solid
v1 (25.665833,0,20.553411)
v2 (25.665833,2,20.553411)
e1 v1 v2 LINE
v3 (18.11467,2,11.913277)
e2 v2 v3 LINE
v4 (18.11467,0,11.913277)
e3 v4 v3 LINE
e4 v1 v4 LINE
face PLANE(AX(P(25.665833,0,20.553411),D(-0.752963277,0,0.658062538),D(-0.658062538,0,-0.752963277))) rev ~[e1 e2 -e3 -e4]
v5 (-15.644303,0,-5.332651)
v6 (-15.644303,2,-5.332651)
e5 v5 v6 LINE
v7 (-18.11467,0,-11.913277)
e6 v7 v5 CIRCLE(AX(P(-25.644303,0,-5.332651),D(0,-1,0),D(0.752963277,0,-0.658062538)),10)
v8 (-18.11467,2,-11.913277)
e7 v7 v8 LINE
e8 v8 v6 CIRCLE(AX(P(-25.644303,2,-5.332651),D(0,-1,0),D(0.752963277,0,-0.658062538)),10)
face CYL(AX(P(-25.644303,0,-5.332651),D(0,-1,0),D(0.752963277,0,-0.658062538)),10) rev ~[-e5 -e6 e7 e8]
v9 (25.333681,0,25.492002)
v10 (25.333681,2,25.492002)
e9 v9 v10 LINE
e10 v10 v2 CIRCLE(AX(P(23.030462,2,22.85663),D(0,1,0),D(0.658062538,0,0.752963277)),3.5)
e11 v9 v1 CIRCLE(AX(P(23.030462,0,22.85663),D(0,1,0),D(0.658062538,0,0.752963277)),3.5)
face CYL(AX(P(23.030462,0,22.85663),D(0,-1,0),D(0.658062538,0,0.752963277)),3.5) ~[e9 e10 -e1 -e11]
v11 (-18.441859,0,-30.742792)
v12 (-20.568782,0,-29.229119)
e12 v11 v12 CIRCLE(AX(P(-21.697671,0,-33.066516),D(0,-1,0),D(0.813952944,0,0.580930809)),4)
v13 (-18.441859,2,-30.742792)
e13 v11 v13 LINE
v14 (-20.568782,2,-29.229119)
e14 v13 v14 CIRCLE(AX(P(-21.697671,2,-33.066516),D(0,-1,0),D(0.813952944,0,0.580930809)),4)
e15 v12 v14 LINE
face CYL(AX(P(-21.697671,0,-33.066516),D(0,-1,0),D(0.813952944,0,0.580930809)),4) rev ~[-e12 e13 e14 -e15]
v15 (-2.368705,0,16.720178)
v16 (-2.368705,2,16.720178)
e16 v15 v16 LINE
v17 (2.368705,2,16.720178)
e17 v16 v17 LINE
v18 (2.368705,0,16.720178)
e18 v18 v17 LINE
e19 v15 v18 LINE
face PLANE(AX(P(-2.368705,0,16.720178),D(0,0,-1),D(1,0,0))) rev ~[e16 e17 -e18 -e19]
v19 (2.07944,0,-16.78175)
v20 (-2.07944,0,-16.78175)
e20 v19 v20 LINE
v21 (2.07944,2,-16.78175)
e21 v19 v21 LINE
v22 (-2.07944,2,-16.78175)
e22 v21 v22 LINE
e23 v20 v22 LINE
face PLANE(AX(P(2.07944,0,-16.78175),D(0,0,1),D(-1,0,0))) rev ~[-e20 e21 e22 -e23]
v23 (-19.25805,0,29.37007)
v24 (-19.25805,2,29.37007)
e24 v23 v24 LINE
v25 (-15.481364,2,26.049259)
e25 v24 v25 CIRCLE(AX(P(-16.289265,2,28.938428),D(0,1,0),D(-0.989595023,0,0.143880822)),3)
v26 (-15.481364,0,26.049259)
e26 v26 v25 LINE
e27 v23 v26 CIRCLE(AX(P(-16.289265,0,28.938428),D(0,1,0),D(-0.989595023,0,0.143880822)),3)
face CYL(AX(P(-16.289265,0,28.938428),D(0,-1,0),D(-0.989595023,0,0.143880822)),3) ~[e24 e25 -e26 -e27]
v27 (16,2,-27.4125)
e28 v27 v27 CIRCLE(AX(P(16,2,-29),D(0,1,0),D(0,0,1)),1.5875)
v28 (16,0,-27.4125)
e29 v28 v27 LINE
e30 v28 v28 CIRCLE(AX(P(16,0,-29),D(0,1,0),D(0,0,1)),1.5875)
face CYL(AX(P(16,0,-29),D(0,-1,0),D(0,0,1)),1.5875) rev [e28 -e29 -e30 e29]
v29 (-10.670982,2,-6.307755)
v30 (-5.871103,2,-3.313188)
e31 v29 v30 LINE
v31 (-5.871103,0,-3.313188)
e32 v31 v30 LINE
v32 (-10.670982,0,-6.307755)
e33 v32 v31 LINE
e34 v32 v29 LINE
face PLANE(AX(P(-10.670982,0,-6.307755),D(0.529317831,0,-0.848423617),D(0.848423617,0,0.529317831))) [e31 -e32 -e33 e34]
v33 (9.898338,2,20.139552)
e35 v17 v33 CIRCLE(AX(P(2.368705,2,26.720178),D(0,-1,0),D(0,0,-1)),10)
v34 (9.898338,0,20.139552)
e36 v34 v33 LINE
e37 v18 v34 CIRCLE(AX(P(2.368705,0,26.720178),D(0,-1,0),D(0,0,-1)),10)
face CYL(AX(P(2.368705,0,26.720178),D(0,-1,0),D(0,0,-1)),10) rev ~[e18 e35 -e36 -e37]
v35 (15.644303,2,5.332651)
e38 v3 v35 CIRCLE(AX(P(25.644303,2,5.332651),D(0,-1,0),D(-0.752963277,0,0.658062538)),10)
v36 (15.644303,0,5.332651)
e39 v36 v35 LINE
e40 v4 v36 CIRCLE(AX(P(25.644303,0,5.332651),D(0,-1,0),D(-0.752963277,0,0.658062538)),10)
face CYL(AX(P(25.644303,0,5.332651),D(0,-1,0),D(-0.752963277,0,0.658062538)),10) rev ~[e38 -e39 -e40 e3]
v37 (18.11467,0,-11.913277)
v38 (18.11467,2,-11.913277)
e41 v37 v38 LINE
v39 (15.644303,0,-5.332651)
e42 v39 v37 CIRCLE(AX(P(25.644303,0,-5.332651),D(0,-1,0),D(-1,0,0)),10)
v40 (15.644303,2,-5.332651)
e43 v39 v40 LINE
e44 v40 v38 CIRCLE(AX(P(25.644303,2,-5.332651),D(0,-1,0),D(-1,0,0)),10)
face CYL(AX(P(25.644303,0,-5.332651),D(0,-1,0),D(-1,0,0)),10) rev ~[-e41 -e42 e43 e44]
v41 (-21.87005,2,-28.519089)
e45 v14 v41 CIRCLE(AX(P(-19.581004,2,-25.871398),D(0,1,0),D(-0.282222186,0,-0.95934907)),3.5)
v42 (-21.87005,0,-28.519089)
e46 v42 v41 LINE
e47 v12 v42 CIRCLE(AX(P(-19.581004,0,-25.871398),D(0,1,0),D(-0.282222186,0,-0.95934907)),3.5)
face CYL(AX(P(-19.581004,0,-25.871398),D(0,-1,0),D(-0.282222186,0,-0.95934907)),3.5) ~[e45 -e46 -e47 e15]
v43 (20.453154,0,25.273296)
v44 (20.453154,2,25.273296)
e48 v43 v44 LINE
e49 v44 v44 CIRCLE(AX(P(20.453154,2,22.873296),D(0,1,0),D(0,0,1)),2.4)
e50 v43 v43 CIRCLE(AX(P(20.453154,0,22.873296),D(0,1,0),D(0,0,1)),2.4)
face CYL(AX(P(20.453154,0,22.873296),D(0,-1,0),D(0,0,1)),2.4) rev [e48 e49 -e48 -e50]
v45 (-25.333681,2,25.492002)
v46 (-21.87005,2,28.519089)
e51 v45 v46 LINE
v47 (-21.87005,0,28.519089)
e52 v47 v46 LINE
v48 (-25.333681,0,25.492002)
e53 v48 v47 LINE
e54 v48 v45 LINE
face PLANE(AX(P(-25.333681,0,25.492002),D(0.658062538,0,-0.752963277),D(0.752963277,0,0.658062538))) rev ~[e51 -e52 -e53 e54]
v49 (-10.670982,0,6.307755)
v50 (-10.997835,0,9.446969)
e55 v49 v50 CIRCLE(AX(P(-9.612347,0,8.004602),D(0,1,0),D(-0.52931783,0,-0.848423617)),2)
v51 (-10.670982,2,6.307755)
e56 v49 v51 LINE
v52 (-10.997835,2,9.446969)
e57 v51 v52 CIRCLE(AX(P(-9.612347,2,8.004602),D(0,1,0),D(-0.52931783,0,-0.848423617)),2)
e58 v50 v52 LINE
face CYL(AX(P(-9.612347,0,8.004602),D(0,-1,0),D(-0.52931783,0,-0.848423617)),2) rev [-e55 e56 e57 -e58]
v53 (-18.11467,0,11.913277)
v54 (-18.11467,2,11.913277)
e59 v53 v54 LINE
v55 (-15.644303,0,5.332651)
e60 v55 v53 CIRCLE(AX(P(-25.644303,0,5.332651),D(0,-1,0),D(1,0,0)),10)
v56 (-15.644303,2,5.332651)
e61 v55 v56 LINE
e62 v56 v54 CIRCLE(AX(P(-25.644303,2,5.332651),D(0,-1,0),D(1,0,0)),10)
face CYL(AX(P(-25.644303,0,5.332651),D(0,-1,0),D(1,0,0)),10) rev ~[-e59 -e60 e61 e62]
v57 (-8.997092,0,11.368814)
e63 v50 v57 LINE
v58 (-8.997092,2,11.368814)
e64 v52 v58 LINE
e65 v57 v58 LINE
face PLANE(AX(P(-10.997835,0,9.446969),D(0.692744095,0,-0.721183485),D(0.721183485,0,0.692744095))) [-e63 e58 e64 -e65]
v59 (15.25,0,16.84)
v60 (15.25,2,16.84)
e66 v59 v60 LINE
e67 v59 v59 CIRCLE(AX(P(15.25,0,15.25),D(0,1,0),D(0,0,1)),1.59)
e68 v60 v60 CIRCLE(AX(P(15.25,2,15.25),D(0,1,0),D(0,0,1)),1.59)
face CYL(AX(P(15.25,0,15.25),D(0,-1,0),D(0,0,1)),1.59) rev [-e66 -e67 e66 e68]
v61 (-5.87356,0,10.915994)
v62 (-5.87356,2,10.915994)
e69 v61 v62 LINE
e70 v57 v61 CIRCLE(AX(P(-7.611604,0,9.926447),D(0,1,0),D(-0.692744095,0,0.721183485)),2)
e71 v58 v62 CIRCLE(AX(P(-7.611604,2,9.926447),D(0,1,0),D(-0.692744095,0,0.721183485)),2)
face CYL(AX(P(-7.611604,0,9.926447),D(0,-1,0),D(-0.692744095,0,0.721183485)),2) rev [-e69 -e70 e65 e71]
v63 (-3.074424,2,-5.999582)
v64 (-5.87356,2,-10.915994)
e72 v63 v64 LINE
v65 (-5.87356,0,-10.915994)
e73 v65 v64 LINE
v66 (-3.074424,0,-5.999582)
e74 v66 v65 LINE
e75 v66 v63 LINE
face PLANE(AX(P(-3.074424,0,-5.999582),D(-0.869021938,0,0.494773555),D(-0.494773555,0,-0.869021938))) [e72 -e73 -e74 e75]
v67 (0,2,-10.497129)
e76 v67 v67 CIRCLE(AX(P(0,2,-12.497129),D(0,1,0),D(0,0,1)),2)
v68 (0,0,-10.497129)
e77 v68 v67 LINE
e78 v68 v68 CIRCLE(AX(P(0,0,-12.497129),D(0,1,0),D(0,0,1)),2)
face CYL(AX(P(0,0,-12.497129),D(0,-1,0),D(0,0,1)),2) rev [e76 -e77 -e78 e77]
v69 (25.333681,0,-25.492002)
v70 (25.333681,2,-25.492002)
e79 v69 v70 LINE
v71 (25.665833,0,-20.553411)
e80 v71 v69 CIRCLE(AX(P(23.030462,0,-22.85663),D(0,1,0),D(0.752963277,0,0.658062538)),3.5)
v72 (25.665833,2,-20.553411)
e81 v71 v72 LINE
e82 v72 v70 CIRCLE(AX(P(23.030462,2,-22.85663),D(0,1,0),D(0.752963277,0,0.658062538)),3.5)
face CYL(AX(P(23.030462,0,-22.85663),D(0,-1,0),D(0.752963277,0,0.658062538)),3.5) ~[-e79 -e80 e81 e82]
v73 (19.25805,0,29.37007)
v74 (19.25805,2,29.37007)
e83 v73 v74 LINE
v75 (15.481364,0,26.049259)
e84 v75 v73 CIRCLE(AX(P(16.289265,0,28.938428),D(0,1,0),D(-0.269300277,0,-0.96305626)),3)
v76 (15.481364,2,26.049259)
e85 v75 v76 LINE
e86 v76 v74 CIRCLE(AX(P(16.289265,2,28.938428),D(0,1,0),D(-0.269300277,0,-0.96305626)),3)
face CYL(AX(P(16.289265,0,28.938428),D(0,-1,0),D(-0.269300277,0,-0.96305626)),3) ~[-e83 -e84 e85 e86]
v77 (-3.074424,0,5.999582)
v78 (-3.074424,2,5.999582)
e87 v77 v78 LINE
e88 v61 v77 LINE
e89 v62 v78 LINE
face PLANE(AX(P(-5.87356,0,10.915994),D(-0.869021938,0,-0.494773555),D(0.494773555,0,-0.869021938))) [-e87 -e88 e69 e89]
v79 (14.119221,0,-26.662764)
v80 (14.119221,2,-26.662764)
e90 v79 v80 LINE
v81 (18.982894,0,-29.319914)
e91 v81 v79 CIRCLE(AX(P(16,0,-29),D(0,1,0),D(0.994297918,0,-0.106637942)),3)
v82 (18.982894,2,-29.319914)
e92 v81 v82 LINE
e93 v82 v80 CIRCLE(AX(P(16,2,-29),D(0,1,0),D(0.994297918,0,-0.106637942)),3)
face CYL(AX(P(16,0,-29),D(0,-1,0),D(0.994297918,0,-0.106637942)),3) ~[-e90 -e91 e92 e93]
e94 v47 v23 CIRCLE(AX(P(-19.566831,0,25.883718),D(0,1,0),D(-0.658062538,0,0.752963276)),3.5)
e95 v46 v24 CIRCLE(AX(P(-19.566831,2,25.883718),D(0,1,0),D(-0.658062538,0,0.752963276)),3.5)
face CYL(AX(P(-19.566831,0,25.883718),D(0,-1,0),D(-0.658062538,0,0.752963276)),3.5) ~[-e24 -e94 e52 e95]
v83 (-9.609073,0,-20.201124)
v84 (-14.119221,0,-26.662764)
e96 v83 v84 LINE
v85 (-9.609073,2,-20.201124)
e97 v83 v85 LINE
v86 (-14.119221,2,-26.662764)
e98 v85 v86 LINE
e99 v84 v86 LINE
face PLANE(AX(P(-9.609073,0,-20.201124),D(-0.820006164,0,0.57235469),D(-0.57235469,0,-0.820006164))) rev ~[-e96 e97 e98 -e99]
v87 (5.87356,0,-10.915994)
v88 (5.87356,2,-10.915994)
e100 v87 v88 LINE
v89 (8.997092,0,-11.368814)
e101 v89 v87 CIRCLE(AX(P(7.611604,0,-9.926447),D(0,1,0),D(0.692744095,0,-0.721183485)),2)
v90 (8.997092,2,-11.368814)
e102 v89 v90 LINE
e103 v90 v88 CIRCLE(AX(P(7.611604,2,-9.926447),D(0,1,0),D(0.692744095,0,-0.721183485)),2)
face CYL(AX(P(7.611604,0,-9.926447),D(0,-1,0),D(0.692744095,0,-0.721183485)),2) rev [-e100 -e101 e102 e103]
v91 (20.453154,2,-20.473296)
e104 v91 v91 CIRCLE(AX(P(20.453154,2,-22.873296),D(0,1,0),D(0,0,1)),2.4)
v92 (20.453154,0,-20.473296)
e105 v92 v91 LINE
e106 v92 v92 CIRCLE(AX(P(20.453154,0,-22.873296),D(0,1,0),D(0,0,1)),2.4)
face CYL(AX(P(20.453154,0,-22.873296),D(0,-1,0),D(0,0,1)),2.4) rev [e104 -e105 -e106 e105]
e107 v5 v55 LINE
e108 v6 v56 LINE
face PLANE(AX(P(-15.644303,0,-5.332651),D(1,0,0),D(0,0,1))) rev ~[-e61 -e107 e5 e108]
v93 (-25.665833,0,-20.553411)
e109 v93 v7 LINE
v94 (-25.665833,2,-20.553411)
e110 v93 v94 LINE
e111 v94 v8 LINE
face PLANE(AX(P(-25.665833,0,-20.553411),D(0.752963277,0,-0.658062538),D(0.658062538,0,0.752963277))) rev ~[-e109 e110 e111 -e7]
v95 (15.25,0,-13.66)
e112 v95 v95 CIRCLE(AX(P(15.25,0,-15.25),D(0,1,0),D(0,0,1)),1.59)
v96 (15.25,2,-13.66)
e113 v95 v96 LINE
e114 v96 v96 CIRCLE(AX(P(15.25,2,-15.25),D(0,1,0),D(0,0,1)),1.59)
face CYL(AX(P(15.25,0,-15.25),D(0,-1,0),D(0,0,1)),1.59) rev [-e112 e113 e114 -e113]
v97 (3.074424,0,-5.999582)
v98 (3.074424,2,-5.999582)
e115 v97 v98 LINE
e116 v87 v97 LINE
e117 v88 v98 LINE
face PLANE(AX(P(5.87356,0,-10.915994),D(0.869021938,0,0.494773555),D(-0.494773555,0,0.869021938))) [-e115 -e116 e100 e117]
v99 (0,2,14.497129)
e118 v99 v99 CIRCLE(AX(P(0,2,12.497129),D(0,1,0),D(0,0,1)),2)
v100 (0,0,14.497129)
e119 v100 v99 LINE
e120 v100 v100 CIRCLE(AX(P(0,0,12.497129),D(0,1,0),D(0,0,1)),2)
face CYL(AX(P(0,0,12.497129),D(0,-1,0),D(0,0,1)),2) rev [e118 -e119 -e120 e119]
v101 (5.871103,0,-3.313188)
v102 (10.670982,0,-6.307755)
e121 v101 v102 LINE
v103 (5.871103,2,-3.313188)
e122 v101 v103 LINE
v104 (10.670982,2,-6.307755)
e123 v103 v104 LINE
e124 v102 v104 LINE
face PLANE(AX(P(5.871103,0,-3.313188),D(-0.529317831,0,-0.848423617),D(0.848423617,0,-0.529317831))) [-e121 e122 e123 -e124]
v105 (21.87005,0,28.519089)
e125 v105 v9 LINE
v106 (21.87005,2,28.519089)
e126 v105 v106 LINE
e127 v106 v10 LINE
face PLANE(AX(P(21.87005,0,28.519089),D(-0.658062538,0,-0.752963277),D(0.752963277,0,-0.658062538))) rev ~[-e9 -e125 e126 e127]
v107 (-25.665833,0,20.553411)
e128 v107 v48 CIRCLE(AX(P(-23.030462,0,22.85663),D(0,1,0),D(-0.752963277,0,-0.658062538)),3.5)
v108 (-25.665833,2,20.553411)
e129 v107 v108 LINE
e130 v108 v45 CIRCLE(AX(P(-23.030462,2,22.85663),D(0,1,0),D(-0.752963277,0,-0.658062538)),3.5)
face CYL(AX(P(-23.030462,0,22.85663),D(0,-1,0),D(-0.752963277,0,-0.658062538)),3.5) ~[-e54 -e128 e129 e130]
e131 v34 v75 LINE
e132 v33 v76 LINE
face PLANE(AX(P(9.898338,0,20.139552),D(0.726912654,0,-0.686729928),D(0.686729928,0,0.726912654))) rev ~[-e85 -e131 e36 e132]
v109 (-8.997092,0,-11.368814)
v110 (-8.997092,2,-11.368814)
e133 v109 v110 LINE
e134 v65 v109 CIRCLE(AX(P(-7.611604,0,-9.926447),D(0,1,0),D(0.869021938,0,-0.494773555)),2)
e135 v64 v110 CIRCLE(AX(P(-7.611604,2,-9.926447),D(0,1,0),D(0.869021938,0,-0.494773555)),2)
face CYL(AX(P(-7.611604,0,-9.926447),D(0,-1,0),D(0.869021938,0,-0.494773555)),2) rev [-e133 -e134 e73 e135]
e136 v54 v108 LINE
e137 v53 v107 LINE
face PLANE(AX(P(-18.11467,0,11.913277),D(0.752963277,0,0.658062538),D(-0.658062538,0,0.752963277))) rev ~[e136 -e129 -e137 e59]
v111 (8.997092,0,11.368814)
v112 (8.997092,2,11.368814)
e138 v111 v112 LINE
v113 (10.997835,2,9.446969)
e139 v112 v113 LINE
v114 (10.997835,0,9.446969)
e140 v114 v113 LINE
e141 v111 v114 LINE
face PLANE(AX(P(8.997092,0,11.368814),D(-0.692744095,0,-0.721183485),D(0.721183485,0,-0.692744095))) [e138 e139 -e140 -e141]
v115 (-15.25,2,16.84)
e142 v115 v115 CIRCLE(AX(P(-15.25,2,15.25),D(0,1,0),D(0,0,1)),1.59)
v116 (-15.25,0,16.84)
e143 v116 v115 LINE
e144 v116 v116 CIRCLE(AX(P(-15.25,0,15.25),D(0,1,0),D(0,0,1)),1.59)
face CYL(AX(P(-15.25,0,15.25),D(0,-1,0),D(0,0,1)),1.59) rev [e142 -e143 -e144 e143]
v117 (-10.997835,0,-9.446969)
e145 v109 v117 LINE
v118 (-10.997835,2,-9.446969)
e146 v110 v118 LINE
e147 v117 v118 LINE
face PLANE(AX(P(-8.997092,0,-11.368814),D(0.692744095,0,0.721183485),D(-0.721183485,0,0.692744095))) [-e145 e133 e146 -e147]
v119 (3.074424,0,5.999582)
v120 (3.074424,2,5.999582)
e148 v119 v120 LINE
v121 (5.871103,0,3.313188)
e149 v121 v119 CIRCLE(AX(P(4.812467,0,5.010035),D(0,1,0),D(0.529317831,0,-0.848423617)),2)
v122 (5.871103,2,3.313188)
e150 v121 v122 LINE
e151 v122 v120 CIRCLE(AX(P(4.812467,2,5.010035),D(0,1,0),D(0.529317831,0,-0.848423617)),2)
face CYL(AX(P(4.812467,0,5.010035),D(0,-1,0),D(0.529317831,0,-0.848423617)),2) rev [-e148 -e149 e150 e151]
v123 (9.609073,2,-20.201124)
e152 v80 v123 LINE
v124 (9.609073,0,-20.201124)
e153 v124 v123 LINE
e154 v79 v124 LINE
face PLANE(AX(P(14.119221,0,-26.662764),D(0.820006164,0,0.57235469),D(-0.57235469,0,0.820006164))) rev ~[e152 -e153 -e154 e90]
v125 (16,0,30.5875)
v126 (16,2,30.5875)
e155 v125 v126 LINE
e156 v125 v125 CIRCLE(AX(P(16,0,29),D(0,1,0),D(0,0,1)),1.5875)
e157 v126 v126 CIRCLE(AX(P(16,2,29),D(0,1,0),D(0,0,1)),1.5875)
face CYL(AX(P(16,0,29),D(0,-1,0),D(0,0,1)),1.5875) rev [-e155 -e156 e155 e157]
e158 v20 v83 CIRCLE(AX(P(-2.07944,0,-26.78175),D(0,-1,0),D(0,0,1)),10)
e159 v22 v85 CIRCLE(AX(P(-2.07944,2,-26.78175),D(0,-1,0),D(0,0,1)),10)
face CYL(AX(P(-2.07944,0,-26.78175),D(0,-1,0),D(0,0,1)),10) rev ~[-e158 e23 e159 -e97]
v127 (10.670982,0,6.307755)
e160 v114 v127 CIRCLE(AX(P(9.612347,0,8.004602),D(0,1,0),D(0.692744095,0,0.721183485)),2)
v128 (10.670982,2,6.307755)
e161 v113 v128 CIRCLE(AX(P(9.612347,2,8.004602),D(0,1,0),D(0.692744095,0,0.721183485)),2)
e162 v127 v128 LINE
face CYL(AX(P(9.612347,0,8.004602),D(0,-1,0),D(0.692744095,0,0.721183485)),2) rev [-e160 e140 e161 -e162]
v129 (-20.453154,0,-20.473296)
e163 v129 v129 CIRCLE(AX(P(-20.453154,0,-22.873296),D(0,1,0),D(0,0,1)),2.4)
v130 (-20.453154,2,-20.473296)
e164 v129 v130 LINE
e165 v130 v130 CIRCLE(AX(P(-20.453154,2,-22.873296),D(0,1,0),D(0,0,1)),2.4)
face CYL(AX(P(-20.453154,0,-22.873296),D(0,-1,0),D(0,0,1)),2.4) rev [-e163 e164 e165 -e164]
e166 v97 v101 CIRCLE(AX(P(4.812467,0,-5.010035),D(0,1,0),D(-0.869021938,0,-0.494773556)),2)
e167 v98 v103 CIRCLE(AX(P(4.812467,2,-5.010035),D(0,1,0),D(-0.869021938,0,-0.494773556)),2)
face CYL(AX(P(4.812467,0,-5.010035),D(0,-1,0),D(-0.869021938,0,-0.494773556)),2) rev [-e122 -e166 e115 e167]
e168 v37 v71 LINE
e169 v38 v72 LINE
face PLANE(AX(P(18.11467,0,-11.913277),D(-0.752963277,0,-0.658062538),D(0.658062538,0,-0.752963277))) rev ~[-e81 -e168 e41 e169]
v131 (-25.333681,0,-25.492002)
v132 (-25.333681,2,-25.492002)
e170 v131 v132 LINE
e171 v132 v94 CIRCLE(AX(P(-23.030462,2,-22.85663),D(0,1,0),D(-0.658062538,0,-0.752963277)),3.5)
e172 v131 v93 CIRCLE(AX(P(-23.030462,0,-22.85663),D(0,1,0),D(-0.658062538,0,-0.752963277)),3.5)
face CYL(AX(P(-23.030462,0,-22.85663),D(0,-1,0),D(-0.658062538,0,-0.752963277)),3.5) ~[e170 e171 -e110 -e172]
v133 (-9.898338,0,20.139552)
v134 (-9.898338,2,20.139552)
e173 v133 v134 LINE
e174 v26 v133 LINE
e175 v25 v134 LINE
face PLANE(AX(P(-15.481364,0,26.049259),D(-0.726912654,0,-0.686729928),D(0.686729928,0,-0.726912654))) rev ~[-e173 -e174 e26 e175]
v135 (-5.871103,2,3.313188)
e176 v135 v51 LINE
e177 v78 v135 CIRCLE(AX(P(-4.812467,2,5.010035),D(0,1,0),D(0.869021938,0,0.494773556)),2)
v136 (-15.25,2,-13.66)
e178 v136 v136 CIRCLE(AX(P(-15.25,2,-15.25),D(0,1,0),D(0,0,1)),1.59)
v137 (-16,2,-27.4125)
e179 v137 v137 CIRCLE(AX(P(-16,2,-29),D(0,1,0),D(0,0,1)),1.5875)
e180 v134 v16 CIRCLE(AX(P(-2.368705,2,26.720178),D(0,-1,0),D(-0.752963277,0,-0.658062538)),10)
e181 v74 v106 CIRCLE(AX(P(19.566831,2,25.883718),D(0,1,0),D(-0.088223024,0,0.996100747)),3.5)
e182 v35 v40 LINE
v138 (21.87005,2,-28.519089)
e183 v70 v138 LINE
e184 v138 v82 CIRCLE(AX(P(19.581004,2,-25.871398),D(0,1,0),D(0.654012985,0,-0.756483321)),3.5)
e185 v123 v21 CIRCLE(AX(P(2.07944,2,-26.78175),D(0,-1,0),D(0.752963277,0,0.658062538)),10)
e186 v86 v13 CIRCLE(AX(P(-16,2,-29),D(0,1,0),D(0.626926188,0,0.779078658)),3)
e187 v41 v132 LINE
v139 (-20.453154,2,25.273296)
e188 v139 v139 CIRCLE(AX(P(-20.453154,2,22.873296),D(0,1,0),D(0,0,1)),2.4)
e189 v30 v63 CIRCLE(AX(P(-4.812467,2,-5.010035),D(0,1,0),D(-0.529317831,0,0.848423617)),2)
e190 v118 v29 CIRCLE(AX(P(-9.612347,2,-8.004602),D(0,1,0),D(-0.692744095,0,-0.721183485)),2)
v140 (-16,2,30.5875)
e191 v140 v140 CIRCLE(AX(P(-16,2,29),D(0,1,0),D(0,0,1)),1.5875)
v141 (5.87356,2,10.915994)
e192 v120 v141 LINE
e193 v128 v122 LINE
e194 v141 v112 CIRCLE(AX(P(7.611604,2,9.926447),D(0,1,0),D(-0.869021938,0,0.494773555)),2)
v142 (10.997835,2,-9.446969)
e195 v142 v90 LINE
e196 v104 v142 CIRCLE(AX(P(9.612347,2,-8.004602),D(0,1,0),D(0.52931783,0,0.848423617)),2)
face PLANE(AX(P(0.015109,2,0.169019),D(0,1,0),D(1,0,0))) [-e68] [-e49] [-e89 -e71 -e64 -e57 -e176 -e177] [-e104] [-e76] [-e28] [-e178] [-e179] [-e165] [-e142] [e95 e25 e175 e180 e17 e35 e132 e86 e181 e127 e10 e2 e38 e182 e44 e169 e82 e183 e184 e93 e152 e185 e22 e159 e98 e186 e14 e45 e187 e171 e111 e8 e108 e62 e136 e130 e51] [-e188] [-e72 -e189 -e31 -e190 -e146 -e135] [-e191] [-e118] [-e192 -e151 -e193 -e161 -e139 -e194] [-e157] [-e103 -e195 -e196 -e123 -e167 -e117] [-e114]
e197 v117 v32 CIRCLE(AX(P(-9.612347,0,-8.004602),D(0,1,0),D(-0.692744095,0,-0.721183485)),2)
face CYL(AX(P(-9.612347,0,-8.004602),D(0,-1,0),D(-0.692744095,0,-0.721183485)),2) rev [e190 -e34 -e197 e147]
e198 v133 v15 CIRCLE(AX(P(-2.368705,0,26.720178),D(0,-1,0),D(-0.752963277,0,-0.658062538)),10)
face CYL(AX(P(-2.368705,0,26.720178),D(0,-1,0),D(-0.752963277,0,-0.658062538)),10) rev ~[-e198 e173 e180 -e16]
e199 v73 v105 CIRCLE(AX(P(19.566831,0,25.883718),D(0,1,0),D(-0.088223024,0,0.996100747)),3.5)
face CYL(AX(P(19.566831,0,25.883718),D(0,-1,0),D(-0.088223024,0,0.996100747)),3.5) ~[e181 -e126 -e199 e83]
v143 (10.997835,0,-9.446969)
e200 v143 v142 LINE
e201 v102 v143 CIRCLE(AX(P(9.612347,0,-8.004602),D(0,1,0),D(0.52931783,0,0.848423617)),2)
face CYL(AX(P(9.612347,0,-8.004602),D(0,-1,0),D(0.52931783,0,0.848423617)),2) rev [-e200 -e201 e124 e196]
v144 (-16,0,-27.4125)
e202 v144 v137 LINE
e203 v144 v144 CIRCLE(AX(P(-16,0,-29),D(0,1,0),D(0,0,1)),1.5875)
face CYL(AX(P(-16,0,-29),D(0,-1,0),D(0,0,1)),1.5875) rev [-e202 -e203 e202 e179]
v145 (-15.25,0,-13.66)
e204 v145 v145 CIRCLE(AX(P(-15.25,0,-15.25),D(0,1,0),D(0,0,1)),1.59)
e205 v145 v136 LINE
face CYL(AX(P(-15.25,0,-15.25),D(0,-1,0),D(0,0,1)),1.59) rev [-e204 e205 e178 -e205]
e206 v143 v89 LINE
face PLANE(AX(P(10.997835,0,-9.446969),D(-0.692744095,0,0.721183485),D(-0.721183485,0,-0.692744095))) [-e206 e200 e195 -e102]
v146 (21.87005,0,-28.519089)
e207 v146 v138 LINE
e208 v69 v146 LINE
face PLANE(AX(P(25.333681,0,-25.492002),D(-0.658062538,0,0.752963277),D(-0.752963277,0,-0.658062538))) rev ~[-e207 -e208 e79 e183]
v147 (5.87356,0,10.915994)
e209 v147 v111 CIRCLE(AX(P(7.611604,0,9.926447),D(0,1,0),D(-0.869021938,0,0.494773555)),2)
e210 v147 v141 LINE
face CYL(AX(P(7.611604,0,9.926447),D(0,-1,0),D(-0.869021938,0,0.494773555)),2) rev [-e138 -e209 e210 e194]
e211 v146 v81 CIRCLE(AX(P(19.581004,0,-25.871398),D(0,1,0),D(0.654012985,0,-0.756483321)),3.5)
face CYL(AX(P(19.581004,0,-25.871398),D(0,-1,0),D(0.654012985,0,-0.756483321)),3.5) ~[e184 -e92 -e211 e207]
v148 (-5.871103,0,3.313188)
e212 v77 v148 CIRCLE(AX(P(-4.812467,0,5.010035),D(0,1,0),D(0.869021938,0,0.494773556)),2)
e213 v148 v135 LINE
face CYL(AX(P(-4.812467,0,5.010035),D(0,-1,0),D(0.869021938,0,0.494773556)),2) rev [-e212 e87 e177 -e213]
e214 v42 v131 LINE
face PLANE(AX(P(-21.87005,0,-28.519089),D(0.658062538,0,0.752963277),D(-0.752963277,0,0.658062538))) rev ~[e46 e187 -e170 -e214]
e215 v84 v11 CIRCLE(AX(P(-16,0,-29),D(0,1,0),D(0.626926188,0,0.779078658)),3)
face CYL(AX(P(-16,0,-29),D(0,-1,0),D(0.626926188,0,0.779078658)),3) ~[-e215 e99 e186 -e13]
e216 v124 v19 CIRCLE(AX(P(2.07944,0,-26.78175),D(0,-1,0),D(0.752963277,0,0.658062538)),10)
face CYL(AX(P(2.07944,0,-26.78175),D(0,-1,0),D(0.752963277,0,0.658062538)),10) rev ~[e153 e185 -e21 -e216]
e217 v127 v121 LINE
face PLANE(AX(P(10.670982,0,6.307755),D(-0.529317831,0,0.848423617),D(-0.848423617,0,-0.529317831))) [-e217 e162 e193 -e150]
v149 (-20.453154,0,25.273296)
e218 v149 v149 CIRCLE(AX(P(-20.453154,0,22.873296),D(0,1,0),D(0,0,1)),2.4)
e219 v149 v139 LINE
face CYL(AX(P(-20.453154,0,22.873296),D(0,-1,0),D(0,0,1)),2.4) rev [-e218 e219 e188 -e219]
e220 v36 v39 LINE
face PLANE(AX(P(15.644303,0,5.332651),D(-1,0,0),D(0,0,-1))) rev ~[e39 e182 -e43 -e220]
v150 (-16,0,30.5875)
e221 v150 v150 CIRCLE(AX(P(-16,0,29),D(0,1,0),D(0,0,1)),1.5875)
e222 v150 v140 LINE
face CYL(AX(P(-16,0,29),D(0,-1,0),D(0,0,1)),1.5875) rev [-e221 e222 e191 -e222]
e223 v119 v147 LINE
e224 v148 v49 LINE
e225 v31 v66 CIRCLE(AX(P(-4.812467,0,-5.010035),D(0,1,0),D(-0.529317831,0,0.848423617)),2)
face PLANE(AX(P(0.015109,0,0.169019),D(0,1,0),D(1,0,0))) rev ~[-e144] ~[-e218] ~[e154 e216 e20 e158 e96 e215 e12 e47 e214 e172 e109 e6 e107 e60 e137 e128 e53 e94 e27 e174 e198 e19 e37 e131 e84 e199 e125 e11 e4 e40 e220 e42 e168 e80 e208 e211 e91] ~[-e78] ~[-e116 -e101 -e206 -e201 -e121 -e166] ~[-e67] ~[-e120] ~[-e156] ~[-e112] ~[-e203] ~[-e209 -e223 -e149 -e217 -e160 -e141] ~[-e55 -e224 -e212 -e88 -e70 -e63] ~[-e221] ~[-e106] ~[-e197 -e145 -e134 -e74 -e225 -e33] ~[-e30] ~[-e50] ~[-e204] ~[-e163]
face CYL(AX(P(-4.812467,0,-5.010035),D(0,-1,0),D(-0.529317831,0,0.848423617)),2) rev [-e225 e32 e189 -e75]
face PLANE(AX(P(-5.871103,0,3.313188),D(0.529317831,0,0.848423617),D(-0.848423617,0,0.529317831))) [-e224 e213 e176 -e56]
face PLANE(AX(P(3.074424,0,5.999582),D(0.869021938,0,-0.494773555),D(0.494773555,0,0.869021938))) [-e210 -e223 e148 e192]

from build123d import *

# Parameters (mm, degrees)
CROQUIS2_R              = 1.5875
CROQUIS2_R_2            = 2
CROQUIS2_R_3            = 1.59
CROQUIS2_R_4            = 2.4
SALIENTE_EXTRUIR1_DEPTH = 2


with BuildPart() as part:
    # Croquis2 → Saliente-Extruir1 (new body)
    with BuildSketch(Plane(origin=(0, 0, 0), x_dir=(1, 0, 0), z_dir=(0, 1, 0))):
        with BuildLine():
            Line((-18.114669831, -11.913276785), (-25.665833323, -20.55341124))
            ThreePointArc((-25.665833323, -20.55341124), (-26.522572581, -23.091497469), (-25.333680736, -25.492001591))
            Line((-25.333680736, -25.492001591), (-21.870049663, -28.519089265))
            ThreePointArc((-21.870049663, -28.519089265), (-20.651030144, -29.211556696), (-19.258050197, -29.370070411))
            ThreePointArc((-19.258050197, -29.370070411), (-14.308280019, -31.191358923), (-15.481364298, -26.049259163))
            Line((-15.481364298, -26.049259163), (-9.898337732, -20.139552173))
            ThreePointArc((-9.898337732, -20.139552173), (-6.503541491, -17.615062127), (-2.368704963, -16.720177551))
            Line((-2.368704963, -16.720177551), (2.368704963, -16.720177551))
            ThreePointArc((2.368704963, -16.720177551), (6.503541491, -17.615062127), (9.898337732, -20.139552173))
            Line((9.898337732, -20.139552173), (15.481364298, -26.049259163))
            ThreePointArc((15.481364298, -26.049259163), (14.308280019, -31.191358923), (19.258050197, -29.370070411))
            ThreePointArc((19.258050197, -29.370070411), (20.651030144, -29.211556696), (21.870049663, -28.519089265))
            Line((21.870049663, -28.519089265), (25.333680736, -25.492001591))
            ThreePointArc((25.333680736, -25.492001591), (26.522572581, -23.091497469), (25.665833323, -20.55341124))
            Line((25.665833323, -20.55341124), (18.114669831, -11.913276785))
            ThreePointArc((18.114669831, -11.913276785), (16.282242792, -8.847169319), (15.6443026, -5.332651407))
            Line((15.6443026, -5.332651407), (15.6443026, 5.332651407))
            ThreePointArc((15.6443026, 5.332651407), (16.282242792, 8.847169319), (18.114669831, 11.913276785))
            Line((18.114669831, 11.913276785), (25.665833323, 20.55341124))
            ThreePointArc((25.665833323, 20.55341124), (26.522572581, 23.091497469), (25.333680736, 25.492001591))
            Line((25.333680736, 25.492001591), (21.870049663, 28.519089265))
            ThreePointArc((21.870049663, 28.519089265), (20.516496212, 29.244060494), (18.982893754, 29.319913825))
            ThreePointArc((18.982893754, 29.319913825), (14.561676067, 31.632721836), (14.119221437, 26.662764026))
            Line((14.119221437, 26.662764026), (9.609072603, 20.201124228))
            ThreePointArc((9.609072603, 20.201124228), (6.214276361, 17.676634182), (2.079439834, 16.781749607))
            Line((2.079439834, 16.781749607), (-2.079439834, 16.781749607))
            ThreePointArc((-2.079439834, 16.781749607), (-6.214276361, 17.676634182), (-9.609072603, 20.201124228))
            Line((-9.609072603, 20.201124228), (-14.119221437, 26.662764026))
            ThreePointArc((-14.119221437, 26.662764026), (-13.940786386, 31.181659757), (-18.441858832, 30.742792428))
            ThreePointArc((-18.441858832, 30.742792428), (-19.378360111, 29.807558957), (-20.568781865, 29.229119385))
            ThreePointArc((-20.568781865, 29.229119385), (-21.257437362, 28.943786272), (-21.870049663, 28.519089265))
            Line((-21.870049663, 28.519089265), (-25.333680736, 25.492001591))
            ThreePointArc((-25.333680736, 25.492001591), (-26.522572581, 23.091497469), (-25.665833323, 20.55341124))
            Line((-25.665833323, 20.55341124), (-18.114669831, 11.913276785))
            ThreePointArc((-18.114669831, 11.913276785), (-16.282242792, 8.847169319), (-15.6443026, 5.332651407))
            Line((-15.6443026, 5.332651407), (-15.6443026, -5.332651407))
            ThreePointArc((-15.6443026, -5.332651407), (-16.282242792, -8.847169319), (-18.114669831, -11.913276785))
        make_face()
        with Locations(Location((-16, 29, 0), (0, 0, 270))):
            Circle(CROQUIS2_R, mode=Mode.SUBTRACT)
        with Locations(Location((16, 29, 0), (0, 0, 270))):
            Circle(CROQUIS2_R, mode=Mode.SUBTRACT)
        with Locations(Location((0, 12.497128708, 0), (0, 0, 270))):
            Circle(CROQUIS2_R_2, mode=Mode.SUBTRACT)
        with Locations(Location((0, -12.497128708, 0), (0, 0, 270))):
            Circle(CROQUIS2_R_2, mode=Mode.SUBTRACT)
        with Locations(Location((-15.25, 15.25, 0), (0, 0, 270))):
            Circle(CROQUIS2_R_3, mode=Mode.SUBTRACT)
        with Locations(Location((-15.25, -15.25, 0), (0, 0, 270))):
            Circle(CROQUIS2_R_3, mode=Mode.SUBTRACT)
        with Locations(Location((-20.453154045, 22.873296448, 0), (0, 0, 270))):
            Circle(CROQUIS2_R_4, mode=Mode.SUBTRACT)
        with Locations(Location((20.453154045, 22.873296448, 0), (0, 0, 270))):
            Circle(CROQUIS2_R_4, mode=Mode.SUBTRACT)
        with Locations(Location((20.453154045, -22.873296448, 0), (0, 0, 270))):
            Circle(CROQUIS2_R_4, mode=Mode.SUBTRACT)
        with Locations(Location((-20.453154045, -22.873296448, 0), (0, 0, 270))):
            Circle(CROQUIS2_R_4, mode=Mode.SUBTRACT)
        with Locations(Location((15.25, -15.25, 0), (0, 0, 270))):
            Circle(CROQUIS2_R_3, mode=Mode.SUBTRACT)
        with Locations(Location((15.25, 15.25, 0), (0, 0, 270))):
            Circle(CROQUIS2_R_3, mode=Mode.SUBTRACT)
        with Locations(Location((-16, -29, 0), (0, 0, 270))):
            Circle(CROQUIS2_R, mode=Mode.SUBTRACT)
        with Locations(Location((16, -29, 0), (0, 0, 270))):
            Circle(CROQUIS2_R, mode=Mode.SUBTRACT)
        with BuildLine():
            Line((-8.997091839, 11.368814033), (-10.997834751, 9.446969084))
            ThreePointArc((-10.997834751, 9.446969084), (-11.601593103, 7.79748332), (-10.670982222, 6.30775488))
            Line((-10.670982222, 6.30775488), (-5.87110313, 3.313187619))
            ThreePointArc((-5.87110313, 3.313187619), (-3.426979279, 3.567667883), (-3.074423593, 5.999581964))
            Line((-3.074423593, 5.999581964), (-5.873559772, 10.915994174))
            ThreePointArc((-5.873559772, 10.915994174), (-7.324662306, 11.905756202), (-8.997091839, 11.368814033))
        make_face(mode=Mode.SUBTRACT)
        with BuildLine():
            Line((5.873559772, 10.915994174), (3.074423593, 5.999581964))
            ThreePointArc((3.074423593, 5.999581964), (3.426979279, 3.567667883), (5.87110313, 3.313187619))
            Line((5.87110313, 3.313187619), (10.670982222, 6.30775488))
            ThreePointArc((10.670982222, 6.30775488), (11.601593103, 7.79748332), (10.997834751, 9.446969084))
            Line((10.997834751, 9.446969084), (8.997091839, 11.368814033))
            ThreePointArc((8.997091839, 11.368814033), (7.324662306, 11.905756202), (5.873559772, 10.915994174))
        make_face(mode=Mode.SUBTRACT)
        with BuildLine():
            Line((8.997091839, -11.368814033), (10.997834751, -9.446969084))
            ThreePointArc((10.997834751, -9.446969084), (11.601593103, -7.79748332), (10.670982222, -6.30775488))
            Line((10.670982222, -6.30775488), (5.87110313, -3.313187619))
            ThreePointArc((5.87110313, -3.313187619), (3.426979279, -3.567667883), (3.074423593, -5.999581964))
            Line((3.074423593, -5.999581964), (5.873559772, -10.915994174))
            ThreePointArc((5.873559772, -10.915994174), (7.324662306, -11.905756202), (8.997091839, -11.368814033))
        make_face(mode=Mode.SUBTRACT)
        with BuildLine():
            Line((-5.873559772, -10.915994174), (-3.074423593, -5.999581964))
            ThreePointArc((-3.074423593, -5.999581964), (-3.426979279, -3.567667883), (-5.87110313, -3.313187619))
            Line((-5.87110313, -3.313187619), (-10.670982222, -6.30775488))
            ThreePointArc((-10.670982222, -6.30775488), (-11.601593103, -7.79748332), (-10.997834751, -9.446969084))
            Line((-10.997834751, -9.446969084), (-8.997091839, -11.368814033))
            ThreePointArc((-8.997091839, -11.368814033), (-7.324662306, -11.905756202), (-5.873559772, -10.915994174))
        make_face(mode=Mode.SUBTRACT)
    extrude(amount=SALIENTE_EXTRUIR1_DEPTH)


solid = part.part
